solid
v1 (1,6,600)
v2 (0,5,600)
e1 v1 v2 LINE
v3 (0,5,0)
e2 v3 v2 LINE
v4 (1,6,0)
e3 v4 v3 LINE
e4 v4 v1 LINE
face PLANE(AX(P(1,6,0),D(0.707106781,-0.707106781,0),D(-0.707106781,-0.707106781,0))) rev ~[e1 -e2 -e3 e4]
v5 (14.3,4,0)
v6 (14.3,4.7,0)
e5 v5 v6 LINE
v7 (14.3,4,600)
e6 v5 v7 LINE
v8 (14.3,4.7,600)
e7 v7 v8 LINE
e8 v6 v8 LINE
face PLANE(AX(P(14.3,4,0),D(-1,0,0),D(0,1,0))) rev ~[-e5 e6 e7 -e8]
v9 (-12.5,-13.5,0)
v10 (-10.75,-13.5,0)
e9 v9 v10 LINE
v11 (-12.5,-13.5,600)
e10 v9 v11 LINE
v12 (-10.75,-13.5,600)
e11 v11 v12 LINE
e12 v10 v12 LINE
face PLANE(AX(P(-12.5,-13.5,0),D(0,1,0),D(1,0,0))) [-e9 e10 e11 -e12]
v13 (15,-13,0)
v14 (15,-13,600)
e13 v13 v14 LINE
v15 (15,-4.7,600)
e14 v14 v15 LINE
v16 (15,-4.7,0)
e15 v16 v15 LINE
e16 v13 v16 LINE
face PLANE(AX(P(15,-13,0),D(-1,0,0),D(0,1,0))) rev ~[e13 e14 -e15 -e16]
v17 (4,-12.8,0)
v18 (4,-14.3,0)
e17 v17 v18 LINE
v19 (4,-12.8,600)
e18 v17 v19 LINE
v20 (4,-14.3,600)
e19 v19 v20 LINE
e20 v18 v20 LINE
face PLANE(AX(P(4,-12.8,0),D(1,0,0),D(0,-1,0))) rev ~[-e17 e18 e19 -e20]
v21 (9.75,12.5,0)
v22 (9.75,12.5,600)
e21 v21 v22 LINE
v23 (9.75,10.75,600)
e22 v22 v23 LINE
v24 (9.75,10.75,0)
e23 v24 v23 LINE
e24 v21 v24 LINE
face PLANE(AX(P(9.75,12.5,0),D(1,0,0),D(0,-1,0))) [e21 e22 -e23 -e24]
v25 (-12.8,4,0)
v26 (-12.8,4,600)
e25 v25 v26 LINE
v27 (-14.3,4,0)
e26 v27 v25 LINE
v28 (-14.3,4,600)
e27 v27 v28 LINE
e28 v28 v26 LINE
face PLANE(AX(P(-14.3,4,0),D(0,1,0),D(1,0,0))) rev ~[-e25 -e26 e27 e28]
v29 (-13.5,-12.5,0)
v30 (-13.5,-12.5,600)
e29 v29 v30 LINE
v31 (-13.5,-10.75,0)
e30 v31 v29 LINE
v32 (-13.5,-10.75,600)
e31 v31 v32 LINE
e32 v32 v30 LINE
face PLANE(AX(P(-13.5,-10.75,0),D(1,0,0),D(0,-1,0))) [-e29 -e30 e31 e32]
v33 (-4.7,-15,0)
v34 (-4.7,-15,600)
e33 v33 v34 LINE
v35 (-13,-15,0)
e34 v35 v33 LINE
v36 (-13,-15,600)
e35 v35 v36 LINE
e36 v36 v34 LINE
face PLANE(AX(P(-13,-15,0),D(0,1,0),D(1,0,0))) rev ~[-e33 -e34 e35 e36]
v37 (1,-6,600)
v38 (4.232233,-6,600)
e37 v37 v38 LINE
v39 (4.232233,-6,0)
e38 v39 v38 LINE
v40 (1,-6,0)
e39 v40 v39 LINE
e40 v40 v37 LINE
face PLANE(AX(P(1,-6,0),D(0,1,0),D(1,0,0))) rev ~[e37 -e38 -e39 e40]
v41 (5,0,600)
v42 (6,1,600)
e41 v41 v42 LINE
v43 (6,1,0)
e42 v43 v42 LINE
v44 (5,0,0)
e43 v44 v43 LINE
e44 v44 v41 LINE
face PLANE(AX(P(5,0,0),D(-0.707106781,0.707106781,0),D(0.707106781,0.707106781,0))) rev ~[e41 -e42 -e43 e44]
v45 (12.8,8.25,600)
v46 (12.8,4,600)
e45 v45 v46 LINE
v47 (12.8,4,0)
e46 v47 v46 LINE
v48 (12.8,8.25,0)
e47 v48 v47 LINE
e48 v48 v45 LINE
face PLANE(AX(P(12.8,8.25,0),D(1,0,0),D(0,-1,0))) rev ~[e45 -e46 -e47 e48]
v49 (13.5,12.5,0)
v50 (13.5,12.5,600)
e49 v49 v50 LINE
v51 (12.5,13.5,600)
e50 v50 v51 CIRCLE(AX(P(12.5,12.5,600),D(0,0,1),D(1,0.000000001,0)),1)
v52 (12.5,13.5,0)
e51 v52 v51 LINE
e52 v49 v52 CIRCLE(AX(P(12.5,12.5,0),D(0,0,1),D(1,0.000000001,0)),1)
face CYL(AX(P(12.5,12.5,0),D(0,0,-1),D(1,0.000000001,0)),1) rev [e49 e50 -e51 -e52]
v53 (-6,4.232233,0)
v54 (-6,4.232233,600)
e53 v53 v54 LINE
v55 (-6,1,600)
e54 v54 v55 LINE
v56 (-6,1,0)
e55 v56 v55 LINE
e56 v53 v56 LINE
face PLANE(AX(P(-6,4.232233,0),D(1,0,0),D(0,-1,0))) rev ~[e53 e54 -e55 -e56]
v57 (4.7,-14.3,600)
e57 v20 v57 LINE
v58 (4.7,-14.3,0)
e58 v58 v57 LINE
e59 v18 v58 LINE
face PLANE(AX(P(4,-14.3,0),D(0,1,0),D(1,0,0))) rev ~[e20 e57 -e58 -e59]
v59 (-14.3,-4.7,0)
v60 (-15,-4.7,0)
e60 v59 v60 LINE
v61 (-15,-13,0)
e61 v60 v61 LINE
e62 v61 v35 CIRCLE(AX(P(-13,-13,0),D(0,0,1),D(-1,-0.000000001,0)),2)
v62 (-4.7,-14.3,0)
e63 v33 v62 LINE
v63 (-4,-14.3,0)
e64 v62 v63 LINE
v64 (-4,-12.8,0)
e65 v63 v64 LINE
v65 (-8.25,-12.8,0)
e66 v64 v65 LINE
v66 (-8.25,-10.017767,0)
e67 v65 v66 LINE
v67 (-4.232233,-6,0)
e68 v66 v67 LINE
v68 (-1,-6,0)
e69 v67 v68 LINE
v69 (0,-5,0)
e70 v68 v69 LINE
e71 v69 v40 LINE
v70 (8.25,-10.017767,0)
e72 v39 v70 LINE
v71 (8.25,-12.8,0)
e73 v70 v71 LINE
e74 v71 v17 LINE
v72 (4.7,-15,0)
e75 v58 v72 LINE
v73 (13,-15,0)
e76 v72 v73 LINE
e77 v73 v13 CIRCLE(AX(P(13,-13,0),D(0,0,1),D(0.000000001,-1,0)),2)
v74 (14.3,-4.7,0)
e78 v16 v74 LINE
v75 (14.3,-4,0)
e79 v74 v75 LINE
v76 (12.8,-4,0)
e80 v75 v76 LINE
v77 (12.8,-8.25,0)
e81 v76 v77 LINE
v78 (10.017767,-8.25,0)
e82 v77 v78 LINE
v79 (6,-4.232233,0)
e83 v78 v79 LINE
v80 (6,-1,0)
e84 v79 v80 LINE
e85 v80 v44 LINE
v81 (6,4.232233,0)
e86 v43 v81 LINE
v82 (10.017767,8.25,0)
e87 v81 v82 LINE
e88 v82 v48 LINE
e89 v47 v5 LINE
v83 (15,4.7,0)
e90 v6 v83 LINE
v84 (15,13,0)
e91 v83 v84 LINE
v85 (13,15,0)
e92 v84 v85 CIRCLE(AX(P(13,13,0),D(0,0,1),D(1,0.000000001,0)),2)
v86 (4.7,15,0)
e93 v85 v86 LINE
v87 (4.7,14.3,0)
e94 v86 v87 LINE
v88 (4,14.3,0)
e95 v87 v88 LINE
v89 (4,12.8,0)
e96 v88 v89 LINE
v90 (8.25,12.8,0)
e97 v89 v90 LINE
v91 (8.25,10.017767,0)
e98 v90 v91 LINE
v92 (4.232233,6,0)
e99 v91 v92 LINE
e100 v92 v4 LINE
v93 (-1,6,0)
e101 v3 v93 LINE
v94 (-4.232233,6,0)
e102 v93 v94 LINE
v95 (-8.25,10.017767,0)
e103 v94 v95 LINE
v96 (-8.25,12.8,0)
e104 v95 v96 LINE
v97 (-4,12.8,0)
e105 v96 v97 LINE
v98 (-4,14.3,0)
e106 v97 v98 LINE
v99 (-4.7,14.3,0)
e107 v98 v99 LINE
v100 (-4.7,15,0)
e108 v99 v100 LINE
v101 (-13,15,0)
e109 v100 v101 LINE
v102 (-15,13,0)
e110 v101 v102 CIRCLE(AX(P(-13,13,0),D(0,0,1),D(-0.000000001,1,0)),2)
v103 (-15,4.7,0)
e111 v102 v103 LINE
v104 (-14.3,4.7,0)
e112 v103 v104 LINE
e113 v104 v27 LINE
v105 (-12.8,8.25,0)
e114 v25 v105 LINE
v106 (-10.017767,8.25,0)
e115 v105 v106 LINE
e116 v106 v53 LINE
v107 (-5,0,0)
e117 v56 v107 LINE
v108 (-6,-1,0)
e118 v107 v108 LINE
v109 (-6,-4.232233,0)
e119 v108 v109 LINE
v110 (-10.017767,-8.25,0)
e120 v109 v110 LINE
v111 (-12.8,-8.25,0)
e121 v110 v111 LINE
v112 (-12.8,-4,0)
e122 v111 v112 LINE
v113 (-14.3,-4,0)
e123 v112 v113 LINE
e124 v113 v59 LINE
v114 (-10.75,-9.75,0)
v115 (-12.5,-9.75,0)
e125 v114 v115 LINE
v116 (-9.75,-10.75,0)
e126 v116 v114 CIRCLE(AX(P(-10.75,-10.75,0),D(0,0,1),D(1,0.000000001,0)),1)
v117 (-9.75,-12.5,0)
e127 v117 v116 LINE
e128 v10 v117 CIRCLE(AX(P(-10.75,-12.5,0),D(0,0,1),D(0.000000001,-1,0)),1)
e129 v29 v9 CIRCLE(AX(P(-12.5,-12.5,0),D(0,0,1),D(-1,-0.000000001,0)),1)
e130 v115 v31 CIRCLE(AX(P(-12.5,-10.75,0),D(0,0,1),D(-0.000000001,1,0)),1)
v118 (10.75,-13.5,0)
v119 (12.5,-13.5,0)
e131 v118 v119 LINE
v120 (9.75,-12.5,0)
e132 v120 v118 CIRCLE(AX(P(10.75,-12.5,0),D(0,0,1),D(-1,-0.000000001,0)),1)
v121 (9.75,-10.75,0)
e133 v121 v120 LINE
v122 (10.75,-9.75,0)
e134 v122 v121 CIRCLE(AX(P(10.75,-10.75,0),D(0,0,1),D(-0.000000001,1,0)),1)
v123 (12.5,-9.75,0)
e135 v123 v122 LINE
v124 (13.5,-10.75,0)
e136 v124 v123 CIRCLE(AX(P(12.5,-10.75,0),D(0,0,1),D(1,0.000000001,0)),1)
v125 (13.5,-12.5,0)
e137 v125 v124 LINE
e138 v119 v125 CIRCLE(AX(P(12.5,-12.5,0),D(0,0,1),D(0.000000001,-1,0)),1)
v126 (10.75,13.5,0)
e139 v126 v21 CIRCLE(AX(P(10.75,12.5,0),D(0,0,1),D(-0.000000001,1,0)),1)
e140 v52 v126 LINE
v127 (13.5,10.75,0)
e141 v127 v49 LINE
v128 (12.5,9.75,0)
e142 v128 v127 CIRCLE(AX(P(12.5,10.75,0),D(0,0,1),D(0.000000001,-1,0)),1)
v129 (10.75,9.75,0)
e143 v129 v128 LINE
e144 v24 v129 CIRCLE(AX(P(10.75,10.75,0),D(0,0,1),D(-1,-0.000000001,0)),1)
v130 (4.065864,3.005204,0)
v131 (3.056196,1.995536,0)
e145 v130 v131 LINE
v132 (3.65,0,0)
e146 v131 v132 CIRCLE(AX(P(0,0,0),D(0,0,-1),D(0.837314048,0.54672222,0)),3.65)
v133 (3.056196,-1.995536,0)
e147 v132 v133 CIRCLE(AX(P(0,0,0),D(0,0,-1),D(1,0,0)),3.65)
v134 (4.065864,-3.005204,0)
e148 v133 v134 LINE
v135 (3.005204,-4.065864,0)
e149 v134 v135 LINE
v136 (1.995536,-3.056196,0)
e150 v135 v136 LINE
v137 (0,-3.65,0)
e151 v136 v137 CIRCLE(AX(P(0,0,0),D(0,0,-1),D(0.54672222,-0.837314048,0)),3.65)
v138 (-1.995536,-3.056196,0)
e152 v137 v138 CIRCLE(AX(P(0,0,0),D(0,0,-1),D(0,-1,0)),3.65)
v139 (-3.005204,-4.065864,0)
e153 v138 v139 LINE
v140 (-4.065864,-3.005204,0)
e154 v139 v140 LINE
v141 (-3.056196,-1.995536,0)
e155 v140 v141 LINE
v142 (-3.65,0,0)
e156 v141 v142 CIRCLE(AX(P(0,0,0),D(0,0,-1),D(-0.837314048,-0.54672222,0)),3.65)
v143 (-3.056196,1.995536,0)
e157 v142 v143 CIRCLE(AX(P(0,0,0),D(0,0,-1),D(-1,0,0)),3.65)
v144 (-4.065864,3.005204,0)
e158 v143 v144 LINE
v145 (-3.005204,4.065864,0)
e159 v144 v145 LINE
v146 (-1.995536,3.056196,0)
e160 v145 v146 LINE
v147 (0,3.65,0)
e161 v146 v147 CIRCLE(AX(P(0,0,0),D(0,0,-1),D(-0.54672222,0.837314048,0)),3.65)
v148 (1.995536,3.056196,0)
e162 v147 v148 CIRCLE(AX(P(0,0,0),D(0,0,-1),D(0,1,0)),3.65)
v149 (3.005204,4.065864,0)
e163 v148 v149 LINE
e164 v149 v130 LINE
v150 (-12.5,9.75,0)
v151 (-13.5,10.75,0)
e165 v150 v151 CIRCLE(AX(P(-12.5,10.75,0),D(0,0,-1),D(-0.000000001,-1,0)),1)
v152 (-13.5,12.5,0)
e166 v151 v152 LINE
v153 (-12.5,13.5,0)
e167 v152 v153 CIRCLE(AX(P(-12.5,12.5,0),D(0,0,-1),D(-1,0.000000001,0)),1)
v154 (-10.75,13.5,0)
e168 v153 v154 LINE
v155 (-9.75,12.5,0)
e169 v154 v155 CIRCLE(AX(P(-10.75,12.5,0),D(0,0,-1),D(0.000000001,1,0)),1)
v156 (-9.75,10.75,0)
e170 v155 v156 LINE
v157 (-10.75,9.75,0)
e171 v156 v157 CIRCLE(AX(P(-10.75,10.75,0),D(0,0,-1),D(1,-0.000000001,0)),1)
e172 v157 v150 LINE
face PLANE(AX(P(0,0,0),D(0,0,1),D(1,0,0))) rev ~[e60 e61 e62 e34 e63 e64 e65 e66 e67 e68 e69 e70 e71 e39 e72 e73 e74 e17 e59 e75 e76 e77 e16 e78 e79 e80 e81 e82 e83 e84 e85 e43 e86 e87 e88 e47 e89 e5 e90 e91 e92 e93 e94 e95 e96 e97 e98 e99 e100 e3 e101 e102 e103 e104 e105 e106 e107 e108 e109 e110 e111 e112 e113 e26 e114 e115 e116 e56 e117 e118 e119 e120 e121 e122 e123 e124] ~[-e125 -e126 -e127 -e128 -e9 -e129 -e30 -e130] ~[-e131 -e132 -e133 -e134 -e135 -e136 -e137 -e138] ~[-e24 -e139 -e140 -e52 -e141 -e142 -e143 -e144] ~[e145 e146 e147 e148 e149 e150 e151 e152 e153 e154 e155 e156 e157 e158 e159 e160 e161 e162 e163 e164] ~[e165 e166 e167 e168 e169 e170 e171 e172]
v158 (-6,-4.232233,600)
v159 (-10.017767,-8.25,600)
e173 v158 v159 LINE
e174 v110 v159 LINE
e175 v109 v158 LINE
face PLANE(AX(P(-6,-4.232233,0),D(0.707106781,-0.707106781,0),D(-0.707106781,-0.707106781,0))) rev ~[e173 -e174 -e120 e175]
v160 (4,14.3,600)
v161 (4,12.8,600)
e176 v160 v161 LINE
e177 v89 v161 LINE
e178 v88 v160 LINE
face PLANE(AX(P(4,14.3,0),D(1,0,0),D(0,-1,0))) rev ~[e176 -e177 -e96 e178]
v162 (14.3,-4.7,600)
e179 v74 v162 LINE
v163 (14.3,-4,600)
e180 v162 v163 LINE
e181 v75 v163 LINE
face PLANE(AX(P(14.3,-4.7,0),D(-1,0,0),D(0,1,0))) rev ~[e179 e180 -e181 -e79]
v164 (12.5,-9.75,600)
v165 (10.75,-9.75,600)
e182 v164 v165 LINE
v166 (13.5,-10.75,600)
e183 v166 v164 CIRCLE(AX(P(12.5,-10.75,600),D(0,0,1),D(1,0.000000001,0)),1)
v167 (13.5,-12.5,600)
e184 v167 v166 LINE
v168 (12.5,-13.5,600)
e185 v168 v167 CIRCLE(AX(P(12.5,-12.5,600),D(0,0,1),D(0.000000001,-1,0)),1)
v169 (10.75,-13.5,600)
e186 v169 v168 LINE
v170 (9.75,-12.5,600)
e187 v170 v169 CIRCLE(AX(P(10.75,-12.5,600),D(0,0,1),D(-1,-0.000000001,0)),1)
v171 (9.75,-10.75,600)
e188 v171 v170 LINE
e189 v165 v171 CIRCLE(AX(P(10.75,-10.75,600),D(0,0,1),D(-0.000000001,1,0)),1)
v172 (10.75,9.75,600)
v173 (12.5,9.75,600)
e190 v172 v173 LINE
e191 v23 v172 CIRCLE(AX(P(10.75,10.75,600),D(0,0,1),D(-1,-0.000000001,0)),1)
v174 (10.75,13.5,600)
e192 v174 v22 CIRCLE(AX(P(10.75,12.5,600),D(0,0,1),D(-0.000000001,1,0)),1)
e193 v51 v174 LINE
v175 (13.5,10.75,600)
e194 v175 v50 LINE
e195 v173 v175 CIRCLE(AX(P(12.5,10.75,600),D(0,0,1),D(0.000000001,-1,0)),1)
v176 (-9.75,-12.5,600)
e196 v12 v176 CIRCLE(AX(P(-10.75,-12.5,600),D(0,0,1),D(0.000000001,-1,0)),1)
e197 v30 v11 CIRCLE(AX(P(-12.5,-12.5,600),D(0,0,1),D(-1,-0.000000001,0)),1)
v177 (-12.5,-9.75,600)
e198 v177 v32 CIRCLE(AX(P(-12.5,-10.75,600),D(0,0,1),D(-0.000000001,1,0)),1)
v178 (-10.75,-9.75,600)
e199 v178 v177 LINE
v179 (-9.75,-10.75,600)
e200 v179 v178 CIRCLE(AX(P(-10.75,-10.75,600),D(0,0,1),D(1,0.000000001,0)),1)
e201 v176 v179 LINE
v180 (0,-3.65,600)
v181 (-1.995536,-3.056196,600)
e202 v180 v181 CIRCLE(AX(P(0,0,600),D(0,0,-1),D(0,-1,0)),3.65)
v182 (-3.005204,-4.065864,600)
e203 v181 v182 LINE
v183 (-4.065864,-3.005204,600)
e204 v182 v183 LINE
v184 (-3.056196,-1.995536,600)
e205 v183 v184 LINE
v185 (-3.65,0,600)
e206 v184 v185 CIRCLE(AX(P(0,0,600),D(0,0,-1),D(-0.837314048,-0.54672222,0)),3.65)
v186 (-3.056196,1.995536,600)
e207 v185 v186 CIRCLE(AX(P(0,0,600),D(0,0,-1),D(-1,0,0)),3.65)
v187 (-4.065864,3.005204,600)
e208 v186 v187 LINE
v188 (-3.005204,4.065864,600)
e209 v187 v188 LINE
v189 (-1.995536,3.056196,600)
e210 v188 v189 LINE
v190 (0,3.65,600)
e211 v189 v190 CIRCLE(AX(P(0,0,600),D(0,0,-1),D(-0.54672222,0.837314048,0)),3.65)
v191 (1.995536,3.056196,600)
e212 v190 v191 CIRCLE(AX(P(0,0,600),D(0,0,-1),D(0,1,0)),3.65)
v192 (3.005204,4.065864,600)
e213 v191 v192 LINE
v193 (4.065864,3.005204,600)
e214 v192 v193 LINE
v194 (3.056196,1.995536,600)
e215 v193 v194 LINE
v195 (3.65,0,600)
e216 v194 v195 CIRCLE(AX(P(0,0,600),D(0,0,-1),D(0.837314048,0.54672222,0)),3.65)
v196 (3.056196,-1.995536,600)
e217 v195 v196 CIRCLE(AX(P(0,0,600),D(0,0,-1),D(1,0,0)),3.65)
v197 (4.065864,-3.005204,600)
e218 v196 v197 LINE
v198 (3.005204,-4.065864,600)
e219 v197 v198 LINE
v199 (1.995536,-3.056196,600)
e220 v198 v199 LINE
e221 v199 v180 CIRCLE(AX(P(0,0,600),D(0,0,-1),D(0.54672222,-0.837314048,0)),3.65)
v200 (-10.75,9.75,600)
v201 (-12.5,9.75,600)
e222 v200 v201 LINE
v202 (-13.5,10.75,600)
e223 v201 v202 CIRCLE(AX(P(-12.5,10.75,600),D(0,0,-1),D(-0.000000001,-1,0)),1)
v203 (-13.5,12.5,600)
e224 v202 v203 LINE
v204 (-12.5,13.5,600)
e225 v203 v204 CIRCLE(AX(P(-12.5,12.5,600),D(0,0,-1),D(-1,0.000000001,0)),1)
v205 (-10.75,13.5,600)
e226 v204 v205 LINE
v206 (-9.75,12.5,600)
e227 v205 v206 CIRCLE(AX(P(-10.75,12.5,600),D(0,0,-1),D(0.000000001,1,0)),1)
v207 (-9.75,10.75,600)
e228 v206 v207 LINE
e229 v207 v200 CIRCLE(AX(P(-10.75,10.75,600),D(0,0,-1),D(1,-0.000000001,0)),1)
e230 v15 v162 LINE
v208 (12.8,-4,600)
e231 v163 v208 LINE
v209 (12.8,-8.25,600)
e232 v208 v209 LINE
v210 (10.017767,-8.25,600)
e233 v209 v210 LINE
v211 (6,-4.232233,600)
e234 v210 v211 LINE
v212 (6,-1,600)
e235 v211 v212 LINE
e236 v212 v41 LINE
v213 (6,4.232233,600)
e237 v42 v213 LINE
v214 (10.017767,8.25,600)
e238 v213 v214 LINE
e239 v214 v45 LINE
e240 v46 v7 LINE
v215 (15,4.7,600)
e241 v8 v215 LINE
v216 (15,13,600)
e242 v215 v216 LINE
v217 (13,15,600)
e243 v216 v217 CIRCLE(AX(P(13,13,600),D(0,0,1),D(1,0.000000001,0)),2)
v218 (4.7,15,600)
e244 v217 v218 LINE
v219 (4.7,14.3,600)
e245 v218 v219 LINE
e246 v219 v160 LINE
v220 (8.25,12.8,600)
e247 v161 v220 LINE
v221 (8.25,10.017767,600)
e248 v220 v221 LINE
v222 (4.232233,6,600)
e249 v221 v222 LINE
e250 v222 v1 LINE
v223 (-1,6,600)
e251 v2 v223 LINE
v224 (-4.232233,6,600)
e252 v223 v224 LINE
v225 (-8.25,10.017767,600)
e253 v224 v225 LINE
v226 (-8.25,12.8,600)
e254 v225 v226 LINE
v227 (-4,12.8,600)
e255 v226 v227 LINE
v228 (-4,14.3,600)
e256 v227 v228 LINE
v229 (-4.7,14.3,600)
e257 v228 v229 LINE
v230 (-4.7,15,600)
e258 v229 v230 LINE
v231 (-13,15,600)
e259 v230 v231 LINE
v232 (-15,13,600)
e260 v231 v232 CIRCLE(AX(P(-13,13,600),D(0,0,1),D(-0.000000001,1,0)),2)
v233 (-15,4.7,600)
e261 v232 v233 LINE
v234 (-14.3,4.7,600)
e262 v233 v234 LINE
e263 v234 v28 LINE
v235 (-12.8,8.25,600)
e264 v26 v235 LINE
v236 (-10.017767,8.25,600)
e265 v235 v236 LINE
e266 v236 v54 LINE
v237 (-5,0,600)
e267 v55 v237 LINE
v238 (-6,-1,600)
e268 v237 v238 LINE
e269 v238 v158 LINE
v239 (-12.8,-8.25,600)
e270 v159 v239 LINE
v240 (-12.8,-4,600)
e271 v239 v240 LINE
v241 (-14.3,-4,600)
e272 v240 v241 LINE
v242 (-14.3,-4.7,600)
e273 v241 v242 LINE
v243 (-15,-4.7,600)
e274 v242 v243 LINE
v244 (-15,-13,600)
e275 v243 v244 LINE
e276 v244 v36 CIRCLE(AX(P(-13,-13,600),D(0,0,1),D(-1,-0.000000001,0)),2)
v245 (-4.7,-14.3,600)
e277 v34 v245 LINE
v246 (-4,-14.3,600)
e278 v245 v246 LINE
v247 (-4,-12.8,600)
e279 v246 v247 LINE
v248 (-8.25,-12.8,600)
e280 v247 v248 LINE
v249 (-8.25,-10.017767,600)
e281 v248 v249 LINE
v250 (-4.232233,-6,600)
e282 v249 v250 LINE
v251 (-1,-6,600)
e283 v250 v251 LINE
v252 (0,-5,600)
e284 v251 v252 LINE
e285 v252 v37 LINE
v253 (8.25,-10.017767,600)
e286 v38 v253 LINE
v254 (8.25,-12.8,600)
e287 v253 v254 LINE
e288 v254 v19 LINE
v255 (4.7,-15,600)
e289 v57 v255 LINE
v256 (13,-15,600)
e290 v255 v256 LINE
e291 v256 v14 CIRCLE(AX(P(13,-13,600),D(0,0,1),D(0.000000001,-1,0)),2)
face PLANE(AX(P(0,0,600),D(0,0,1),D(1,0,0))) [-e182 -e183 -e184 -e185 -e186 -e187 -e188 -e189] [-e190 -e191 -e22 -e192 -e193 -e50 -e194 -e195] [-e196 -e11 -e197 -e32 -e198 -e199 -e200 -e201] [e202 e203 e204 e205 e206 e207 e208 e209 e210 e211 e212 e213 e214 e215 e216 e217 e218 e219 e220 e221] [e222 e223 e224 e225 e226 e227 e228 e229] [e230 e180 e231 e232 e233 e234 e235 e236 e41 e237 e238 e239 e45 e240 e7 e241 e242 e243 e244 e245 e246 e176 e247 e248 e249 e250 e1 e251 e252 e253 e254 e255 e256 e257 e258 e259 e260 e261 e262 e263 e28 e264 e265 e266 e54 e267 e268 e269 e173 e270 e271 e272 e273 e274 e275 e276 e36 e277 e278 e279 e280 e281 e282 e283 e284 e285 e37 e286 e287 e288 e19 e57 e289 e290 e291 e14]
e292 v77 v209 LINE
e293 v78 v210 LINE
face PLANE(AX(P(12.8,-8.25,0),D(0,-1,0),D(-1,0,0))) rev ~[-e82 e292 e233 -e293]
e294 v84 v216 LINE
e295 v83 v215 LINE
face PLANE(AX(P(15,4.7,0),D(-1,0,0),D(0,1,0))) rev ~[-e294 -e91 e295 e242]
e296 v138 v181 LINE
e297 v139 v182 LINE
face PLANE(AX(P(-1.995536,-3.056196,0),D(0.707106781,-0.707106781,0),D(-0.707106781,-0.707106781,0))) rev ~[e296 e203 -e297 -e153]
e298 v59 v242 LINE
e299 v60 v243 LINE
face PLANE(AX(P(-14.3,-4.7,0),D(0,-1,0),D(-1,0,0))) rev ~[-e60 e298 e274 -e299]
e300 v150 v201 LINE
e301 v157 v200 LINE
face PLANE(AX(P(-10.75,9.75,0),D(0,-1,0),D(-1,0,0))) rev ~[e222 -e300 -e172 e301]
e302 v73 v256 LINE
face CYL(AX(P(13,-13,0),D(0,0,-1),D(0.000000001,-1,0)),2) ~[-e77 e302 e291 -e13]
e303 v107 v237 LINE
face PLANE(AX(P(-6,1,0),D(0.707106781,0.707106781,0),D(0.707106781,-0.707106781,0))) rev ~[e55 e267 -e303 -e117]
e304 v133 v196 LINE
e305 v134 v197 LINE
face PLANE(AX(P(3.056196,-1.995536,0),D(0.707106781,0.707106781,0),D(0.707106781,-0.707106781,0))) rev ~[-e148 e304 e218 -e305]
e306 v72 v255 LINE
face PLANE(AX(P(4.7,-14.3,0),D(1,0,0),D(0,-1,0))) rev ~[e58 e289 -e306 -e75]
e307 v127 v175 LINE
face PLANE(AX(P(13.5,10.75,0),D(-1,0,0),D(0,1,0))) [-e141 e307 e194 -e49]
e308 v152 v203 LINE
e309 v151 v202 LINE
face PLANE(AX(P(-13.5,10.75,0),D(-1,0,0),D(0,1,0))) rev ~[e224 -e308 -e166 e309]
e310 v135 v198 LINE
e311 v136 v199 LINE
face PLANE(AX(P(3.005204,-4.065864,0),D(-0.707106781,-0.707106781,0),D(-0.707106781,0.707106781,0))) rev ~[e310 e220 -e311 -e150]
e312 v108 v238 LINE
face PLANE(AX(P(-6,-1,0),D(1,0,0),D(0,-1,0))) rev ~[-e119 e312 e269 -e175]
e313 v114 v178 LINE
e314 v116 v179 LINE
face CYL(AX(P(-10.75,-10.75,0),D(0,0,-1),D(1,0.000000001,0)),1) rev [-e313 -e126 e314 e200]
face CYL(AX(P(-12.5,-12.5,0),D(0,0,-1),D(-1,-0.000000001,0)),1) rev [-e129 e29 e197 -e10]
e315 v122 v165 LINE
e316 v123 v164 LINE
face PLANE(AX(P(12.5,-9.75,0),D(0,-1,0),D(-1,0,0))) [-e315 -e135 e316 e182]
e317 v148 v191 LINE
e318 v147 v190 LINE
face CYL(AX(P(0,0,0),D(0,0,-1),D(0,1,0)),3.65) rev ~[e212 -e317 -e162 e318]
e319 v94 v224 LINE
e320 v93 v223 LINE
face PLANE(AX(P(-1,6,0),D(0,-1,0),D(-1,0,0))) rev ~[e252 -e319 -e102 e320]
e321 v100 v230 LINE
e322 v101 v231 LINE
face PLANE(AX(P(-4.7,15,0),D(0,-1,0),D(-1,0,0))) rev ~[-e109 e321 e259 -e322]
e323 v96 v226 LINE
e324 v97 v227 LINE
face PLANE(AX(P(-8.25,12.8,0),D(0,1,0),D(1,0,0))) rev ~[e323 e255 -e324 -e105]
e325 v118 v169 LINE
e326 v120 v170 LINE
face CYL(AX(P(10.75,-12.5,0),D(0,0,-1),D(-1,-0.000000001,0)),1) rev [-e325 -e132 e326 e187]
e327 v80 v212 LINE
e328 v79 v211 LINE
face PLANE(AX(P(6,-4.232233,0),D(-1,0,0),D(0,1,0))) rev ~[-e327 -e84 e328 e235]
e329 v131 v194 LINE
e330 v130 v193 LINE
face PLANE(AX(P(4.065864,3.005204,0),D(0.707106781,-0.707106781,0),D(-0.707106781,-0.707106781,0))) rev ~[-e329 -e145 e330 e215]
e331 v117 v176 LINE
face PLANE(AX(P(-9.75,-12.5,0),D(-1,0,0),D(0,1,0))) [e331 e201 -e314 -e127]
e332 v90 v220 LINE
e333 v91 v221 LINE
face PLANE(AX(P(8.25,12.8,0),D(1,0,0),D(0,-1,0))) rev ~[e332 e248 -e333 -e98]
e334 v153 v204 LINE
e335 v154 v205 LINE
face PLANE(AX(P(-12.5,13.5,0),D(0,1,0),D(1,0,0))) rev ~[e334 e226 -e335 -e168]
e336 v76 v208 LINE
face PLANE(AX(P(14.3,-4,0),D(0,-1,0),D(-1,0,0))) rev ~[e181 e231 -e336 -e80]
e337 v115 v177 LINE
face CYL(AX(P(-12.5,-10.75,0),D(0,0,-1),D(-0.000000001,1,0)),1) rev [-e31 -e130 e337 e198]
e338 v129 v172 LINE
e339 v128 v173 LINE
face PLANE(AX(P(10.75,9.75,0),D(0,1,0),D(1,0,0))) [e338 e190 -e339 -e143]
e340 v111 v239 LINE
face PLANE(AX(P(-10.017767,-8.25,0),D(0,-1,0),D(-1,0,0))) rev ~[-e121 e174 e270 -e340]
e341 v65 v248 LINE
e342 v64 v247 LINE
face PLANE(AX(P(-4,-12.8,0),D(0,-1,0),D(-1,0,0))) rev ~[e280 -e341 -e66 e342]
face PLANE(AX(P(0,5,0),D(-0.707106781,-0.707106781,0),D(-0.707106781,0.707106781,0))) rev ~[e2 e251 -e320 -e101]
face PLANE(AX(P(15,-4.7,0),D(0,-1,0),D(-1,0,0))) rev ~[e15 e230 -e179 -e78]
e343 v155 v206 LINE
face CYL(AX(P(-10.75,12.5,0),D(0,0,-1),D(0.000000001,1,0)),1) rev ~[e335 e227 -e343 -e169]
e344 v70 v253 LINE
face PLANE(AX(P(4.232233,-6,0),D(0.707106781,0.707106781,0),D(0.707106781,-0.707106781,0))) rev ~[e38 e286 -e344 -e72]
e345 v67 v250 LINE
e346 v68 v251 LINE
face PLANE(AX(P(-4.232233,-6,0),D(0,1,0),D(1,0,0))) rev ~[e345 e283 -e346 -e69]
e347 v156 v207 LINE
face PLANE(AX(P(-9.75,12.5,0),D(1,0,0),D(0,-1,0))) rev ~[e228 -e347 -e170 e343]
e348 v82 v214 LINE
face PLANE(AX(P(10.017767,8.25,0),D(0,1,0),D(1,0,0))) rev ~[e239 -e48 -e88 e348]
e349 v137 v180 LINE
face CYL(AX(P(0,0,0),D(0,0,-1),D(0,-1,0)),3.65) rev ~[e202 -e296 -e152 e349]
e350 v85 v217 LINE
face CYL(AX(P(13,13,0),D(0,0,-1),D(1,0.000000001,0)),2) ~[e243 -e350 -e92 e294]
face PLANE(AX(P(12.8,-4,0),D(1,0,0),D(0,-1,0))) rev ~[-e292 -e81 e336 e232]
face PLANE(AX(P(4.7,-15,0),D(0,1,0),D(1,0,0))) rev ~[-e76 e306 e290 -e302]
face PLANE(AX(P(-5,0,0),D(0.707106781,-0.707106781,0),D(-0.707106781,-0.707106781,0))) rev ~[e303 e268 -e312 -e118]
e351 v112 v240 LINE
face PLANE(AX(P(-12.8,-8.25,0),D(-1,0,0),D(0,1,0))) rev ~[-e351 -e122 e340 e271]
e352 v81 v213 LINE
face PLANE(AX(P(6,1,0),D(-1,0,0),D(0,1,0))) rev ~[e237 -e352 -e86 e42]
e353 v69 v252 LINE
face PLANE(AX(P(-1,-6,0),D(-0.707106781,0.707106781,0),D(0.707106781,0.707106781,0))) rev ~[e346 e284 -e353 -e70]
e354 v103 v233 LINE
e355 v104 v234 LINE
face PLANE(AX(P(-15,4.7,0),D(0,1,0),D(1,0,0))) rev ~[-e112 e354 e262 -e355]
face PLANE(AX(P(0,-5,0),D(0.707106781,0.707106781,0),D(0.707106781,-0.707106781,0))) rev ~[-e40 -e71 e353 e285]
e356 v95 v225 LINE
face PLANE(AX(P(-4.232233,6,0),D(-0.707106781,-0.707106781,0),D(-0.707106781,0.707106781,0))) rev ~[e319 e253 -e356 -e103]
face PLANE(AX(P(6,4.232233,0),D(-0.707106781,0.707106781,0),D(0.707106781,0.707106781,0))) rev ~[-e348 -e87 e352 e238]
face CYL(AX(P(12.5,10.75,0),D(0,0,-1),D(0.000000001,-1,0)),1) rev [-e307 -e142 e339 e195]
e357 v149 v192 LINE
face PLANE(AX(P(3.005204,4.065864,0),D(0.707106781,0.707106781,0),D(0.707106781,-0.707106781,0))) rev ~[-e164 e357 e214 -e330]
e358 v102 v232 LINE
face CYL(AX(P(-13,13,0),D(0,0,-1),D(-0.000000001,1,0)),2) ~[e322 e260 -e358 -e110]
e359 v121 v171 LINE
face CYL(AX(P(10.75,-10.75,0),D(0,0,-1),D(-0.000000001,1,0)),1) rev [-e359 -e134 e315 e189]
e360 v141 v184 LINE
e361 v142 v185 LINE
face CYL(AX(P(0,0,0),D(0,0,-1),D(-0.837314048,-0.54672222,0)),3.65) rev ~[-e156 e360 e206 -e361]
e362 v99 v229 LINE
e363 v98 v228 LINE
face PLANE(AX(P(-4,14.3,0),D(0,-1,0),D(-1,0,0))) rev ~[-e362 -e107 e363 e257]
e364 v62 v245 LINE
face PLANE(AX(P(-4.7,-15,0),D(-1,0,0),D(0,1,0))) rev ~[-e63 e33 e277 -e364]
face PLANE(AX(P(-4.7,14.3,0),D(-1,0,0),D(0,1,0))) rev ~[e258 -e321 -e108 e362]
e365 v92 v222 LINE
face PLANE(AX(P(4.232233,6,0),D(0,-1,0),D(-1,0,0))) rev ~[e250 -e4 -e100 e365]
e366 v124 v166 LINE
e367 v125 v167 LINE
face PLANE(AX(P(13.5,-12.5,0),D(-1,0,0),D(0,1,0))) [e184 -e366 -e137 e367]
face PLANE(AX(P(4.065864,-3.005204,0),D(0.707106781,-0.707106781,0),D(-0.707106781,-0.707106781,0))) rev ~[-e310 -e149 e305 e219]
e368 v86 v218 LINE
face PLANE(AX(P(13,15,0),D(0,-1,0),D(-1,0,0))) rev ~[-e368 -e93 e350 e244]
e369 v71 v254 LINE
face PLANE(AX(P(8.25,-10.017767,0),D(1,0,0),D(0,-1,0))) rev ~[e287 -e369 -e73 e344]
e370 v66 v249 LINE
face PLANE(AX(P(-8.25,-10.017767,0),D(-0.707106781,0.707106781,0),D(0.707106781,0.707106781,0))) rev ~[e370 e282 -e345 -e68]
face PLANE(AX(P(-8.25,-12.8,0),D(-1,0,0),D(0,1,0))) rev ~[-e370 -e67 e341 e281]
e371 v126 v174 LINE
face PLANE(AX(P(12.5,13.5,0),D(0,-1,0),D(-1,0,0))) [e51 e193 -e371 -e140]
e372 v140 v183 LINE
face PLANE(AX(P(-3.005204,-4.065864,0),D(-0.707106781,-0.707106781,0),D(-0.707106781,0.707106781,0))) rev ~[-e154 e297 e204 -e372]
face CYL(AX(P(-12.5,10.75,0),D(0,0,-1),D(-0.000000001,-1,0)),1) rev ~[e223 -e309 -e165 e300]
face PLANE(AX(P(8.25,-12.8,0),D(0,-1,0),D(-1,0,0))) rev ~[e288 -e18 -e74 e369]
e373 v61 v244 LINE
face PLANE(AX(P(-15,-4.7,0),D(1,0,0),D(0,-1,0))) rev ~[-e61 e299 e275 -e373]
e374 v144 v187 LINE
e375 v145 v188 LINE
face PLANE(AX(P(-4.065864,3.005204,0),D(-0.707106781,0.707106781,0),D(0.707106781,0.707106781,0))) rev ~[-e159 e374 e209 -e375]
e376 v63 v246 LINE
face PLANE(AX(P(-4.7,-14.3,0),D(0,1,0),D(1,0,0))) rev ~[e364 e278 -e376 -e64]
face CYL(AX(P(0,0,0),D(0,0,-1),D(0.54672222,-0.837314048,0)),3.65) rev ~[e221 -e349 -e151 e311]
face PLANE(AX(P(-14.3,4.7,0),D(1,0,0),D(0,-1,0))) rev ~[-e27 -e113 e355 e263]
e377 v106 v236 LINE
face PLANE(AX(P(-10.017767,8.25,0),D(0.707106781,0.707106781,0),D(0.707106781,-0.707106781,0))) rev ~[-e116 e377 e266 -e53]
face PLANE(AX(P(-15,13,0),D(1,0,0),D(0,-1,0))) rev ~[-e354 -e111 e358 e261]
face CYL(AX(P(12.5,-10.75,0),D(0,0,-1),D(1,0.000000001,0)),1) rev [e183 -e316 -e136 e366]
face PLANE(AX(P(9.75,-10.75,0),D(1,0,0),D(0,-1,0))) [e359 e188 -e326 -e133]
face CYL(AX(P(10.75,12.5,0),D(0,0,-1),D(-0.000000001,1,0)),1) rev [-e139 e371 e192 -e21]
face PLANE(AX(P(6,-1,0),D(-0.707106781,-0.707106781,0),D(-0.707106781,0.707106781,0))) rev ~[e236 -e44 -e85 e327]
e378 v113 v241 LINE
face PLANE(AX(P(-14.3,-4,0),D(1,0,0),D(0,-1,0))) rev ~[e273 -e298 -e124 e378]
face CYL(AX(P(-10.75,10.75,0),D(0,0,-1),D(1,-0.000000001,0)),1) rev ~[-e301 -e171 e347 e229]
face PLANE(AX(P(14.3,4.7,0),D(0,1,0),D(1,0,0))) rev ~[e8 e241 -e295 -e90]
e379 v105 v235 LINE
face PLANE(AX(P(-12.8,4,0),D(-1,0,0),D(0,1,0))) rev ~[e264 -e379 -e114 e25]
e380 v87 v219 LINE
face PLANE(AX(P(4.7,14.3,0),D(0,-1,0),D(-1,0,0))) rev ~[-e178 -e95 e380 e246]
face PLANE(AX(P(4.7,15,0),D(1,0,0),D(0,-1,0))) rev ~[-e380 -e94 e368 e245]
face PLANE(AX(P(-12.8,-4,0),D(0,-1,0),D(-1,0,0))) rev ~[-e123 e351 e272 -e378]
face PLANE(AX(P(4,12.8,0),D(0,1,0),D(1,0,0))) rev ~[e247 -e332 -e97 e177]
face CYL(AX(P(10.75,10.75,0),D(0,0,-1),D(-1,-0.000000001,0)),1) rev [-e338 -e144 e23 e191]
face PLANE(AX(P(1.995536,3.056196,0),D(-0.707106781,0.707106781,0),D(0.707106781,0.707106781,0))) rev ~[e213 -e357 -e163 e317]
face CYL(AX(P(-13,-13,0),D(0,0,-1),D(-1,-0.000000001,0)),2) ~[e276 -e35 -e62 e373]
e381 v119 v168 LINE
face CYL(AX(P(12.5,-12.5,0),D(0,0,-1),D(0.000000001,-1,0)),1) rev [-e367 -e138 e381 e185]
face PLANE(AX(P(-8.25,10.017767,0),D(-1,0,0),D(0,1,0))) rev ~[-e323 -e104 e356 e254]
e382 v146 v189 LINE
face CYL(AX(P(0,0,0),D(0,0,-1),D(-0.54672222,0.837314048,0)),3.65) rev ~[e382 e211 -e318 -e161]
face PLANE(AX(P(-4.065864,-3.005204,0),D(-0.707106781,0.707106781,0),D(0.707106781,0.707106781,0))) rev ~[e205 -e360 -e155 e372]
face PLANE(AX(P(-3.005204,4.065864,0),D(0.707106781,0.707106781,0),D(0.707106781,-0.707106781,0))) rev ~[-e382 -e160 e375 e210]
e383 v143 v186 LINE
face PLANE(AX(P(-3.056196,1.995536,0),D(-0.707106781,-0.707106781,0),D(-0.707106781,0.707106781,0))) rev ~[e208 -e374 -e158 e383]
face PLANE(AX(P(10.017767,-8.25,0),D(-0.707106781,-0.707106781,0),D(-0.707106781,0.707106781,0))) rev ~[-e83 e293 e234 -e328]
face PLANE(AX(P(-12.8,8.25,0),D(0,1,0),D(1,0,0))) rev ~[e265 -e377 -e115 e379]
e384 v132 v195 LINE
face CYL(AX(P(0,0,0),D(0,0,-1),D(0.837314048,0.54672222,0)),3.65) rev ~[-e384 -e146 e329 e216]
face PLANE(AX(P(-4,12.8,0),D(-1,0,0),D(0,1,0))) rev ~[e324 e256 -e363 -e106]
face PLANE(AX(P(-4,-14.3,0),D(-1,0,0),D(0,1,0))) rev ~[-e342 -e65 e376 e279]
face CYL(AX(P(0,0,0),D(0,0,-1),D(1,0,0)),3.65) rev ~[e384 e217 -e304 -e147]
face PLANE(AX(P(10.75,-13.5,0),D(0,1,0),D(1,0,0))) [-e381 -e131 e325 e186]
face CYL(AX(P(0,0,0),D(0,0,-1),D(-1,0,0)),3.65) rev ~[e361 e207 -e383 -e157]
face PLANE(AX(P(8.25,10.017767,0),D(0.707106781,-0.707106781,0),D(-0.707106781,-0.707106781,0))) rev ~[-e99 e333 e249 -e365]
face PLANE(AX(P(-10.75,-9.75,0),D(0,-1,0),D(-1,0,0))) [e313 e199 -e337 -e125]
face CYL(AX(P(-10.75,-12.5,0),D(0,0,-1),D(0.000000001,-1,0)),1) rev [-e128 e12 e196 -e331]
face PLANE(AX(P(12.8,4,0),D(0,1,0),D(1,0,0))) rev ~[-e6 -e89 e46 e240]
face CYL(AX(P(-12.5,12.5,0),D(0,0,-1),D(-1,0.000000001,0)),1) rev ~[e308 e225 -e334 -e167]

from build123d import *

# Parameters (mm, degrees)
ESTRUSIONE_ESTRUSIONE2_DEPTH = 600


with BuildPart() as part:
    # Schizzo1 → Estrusione-Estrusione2 (new body)
    with BuildSketch(Plane.XY):
        with BuildLine():
            Line((-15, 13), (-15, 4.7))
            Line((-15, 4.7), (-14.3, 4.7))
            Line((-14.3, 4.7), (-14.3, 4))
            Line((-14.3, 4), (-12.8, 4))
            Line((-12.8, 4), (-12.8, 8.25))
            Line((-12.8, 8.25), (-10.017766953, 8.25))
            Line((-10.017766953, 8.25), (-6, 4.232233047))
            Line((-6, 4.232233047), (-6, 1))
            Line((-6, 1), (-5, 0))
            Line((-5, 0), (-6, -1))
            Line((-6, -1), (-6, -4.232233047))
            Line((-6, -4.232233047), (-10.017766953, -8.25))
            Line((-10.017766953, -8.25), (-12.8, -8.25))
            Line((-12.8, -8.25), (-12.8, -4))
            Line((-12.8, -4), (-14.3, -4))
            Line((-14.3, -4), (-14.3, -4.7))
            Line((-14.3, -4.7), (-15, -4.7))
            Line((-15, -4.7), (-15, -13))
            ThreePointArc((-15, -13), (-14.414213562, -14.414213562), (-13, -15))
            Line((-13, -15), (-4.7, -15))
            Line((-4.7, -15), (-4.7, -14.3))
            Line((-4.7, -14.3), (-4, -14.3))
            Line((-4, -14.3), (-4, -12.8))
            Line((-4, -12.8), (-8.25, -12.8))
            Line((-8.25, -12.8), (-8.25, -10.017766953))
            Line((-8.25, -10.017766953), (-4.232233047, -6))
            Line((-4.232233047, -6), (-1, -6))
            Line((-1, -6), (0, -5))
            Line((0, -5), (1, -6))
            Line((1, -6), (4.232233047, -6))
            Line((4.232233047, -6), (8.25, -10.017766953))
            Line((8.25, -10.017766953), (8.25, -12.8))
            Line((8.25, -12.8), (4, -12.8))
            Line((4, -12.8), (4, -14.3))
            Line((4, -14.3), (4.7, -14.3))
            Line((4.7, -14.3), (4.7, -15))
            Line((4.7, -15), (13, -15))
            ThreePointArc((13, -15), (14.414213562, -14.414213562), (15, -13))
            Line((15, -13), (15, -4.7))
            Line((15, -4.7), (14.3, -4.7))
            Line((14.3, -4.7), (14.3, -4))
            Line((14.3, -4), (12.8, -4))
            Line((12.8, -4), (12.8, -8.25))
            Line((12.8, -8.25), (10.017766953, -8.25))
            Line((10.017766953, -8.25), (6, -4.232233047))
            Line((6, -4.232233047), (6, -1))
            Line((6, -1), (5, 0))
            Line((5, 0), (6, 1))
            Line((6, 1), (6, 4.232233047))
            Line((6, 4.232233047), (10.017766953, 8.25))
            Line((10.017766953, 8.25), (12.8, 8.25))
            Line((12.8, 8.25), (12.8, 4))
            Line((12.8, 4), (14.3, 4))
            Line((14.3, 4), (14.3, 4.7))
            Line((14.3, 4.7), (15, 4.7))
            Line((15, 4.7), (15, 13))
            ThreePointArc((15, 13), (14.414213562, 14.414213562), (13, 15))
            Line((13, 15), (4.7, 15))
            Line((4.7, 15), (4.7, 14.3))
            Line((4.7, 14.3), (4, 14.3))
            Line((4, 14.3), (4, 12.8))
            Line((4, 12.8), (8.25, 12.8))
            Line((8.25, 12.8), (8.25, 10.017766953))
            Line((8.25, 10.017766953), (4.232233047, 6))
            Line((4.232233047, 6), (1, 6))
            Line((1, 6), (0, 5))
            Line((0, 5), (-1, 6))
            Line((-1, 6), (-4.232233047, 6))
            Line((-4.232233047, 6), (-8.25, 10.017766953))
            Line((-8.25, 10.017766953), (-8.25, 12.8))
            Line((-8.25, 12.8), (-4, 12.8))
            Line((-4, 12.8), (-4, 14.3))
            Line((-4, 14.3), (-4.7, 14.3))
            Line((-4.7, 14.3), (-4.7, 15))
            Line((-4.7, 15), (-13, 15))
            ThreePointArc((-13, 15), (-14.414213562, 14.414213562), (-15, 13))
        make_face()
        with BuildLine():
            Line((13.5, 10.75), (13.5, 12.5))
            ThreePointArc((13.5, 12.5), (13.207106781, 13.207106781), (12.5, 13.5))
            Line((12.5, 13.5), (10.75, 13.5))
            ThreePointArc((10.75, 13.5), (10.042893219, 13.207106781), (9.75, 12.5))
            Line((9.75, 12.5), (9.75, 10.75))
            ThreePointArc((9.75, 10.75), (10.042893219, 10.042893219), (10.75, 9.75))
            Line((10.75, 9.75), (12.5, 9.75))
            ThreePointArc((12.5, 9.75), (13.207106781, 10.042893219), (13.5, 10.75))
        make_face(mode=Mode.SUBTRACT)
        with BuildLine():
            Line((10.75, -13.5), (12.5, -13.5))
            ThreePointArc((12.5, -13.5), (13.207106781, -13.207106781), (13.5, -12.5))
            Line((13.5, -12.5), (13.5, -10.75))
            ThreePointArc((13.5, -10.75), (13.207106781, -10.042893219), (12.5, -9.75))
            Line((12.5, -9.75), (10.75, -9.75))
            ThreePointArc((10.75, -9.75), (10.042893219, -10.042893219), (9.75, -10.75))
            Line((9.75, -10.75), (9.75, -12.5))
            ThreePointArc((9.75, -12.5), (10.042893219, -13.207106781), (10.75, -13.5))
        make_face(mode=Mode.SUBTRACT)
        with BuildLine():
            Line((-13.5, -10.75), (-13.5, -12.5))
            ThreePointArc((-13.5, -12.5), (-13.207106781, -13.207106781), (-12.5, -13.5))
            Line((-12.5, -13.5), (-10.75, -13.5))
            ThreePointArc((-10.75, -13.5), (-10.042893219, -13.207106781), (-9.75, -12.5))
            Line((-9.75, -12.5), (-9.75, -10.75))
            ThreePointArc((-9.75, -10.75), (-10.042893219, -10.042893219), (-10.75, -9.75))
            Line((-10.75, -9.75), (-12.5, -9.75))
            ThreePointArc((-12.5, -9.75), (-13.207106781, -10.042893219), (-13.5, -10.75))
        make_face(mode=Mode.SUBTRACT)
        with BuildLine():
            Line((1.995536102, 3.056196274), (3.00520382, 4.065863992))
            Line((3.00520382, 4.065863992), (4.065863992, 3.00520382))
            Line((4.065863992, 3.00520382), (3.056196274, 1.995536102))
            ThreePointArc((3.056196274, 1.995536102), (3.498400806, 1.041005187), (3.65, 0))
            ThreePointArc((3.65, 0), (3.498400806, -1.041005187), (3.056196274, -1.995536102))
            Line((3.056196274, -1.995536102), (4.065863992, -3.00520382))
            Line((4.065863992, -3.00520382), (3.00520382, -4.065863992))
            Line((3.00520382, -4.065863992), (1.995536102, -3.056196274))
            ThreePointArc((1.995536102, -3.056196274), (1.041005187, -3.498400806), (0, -3.65))
            ThreePointArc((0, -3.65), (-1.041005187, -3.498400806), (-1.995536102, -3.056196274))
            Line((-1.995536102, -3.056196274), (-3.00520382, -4.065863992))
            Line((-3.00520382, -4.065863992), (-4.065863992, -3.00520382))
            Line((-4.065863992, -3.00520382), (-3.056196274, -1.995536102))
            ThreePointArc((-3.056196274, -1.995536102), (-3.498400806, -1.041005187), (-3.65, 0))
            ThreePointArc((-3.65, 0), (-3.498400806, 1.041005187), (-3.056196274, 1.995536102))
            Line((-3.056196274, 1.995536102), (-4.065863992, 3.00520382))
            Line((-4.065863992, 3.00520382), (-3.00520382, 4.065863992))
            Line((-3.00520382, 4.065863992), (-1.995536102, 3.056196274))
            ThreePointArc((-1.995536102, 3.056196274), (-1.041005187, 3.498400806), (0, 3.65))
            ThreePointArc((0, 3.65), (1.041005187, 3.498400806), (1.995536102, 3.056196274))
        make_face(mode=Mode.SUBTRACT)
        with BuildLine():
            Line((-10.75, 9.75), (-12.5, 9.75))
            ThreePointArc((-12.5, 9.75), (-13.207106781, 10.042893219), (-13.5, 10.75))
            Line((-13.5, 10.75), (-13.5, 12.5))
            ThreePointArc((-13.5, 12.5), (-13.207106781, 13.207106781), (-12.5, 13.5))
            Line((-12.5, 13.5), (-10.75, 13.5))
            ThreePointArc((-10.75, 13.5), (-10.042893219, 13.207106781), (-9.75, 12.5))
            Line((-9.75, 12.5), (-9.75, 10.75))
            ThreePointArc((-9.75, 10.75), (-10.042893219, 10.042893219), (-10.75, 9.75))
        make_face(mode=Mode.SUBTRACT)
    extrude(amount=ESTRUSIONE_ESTRUSIONE2_DEPTH)


solid = part.part
